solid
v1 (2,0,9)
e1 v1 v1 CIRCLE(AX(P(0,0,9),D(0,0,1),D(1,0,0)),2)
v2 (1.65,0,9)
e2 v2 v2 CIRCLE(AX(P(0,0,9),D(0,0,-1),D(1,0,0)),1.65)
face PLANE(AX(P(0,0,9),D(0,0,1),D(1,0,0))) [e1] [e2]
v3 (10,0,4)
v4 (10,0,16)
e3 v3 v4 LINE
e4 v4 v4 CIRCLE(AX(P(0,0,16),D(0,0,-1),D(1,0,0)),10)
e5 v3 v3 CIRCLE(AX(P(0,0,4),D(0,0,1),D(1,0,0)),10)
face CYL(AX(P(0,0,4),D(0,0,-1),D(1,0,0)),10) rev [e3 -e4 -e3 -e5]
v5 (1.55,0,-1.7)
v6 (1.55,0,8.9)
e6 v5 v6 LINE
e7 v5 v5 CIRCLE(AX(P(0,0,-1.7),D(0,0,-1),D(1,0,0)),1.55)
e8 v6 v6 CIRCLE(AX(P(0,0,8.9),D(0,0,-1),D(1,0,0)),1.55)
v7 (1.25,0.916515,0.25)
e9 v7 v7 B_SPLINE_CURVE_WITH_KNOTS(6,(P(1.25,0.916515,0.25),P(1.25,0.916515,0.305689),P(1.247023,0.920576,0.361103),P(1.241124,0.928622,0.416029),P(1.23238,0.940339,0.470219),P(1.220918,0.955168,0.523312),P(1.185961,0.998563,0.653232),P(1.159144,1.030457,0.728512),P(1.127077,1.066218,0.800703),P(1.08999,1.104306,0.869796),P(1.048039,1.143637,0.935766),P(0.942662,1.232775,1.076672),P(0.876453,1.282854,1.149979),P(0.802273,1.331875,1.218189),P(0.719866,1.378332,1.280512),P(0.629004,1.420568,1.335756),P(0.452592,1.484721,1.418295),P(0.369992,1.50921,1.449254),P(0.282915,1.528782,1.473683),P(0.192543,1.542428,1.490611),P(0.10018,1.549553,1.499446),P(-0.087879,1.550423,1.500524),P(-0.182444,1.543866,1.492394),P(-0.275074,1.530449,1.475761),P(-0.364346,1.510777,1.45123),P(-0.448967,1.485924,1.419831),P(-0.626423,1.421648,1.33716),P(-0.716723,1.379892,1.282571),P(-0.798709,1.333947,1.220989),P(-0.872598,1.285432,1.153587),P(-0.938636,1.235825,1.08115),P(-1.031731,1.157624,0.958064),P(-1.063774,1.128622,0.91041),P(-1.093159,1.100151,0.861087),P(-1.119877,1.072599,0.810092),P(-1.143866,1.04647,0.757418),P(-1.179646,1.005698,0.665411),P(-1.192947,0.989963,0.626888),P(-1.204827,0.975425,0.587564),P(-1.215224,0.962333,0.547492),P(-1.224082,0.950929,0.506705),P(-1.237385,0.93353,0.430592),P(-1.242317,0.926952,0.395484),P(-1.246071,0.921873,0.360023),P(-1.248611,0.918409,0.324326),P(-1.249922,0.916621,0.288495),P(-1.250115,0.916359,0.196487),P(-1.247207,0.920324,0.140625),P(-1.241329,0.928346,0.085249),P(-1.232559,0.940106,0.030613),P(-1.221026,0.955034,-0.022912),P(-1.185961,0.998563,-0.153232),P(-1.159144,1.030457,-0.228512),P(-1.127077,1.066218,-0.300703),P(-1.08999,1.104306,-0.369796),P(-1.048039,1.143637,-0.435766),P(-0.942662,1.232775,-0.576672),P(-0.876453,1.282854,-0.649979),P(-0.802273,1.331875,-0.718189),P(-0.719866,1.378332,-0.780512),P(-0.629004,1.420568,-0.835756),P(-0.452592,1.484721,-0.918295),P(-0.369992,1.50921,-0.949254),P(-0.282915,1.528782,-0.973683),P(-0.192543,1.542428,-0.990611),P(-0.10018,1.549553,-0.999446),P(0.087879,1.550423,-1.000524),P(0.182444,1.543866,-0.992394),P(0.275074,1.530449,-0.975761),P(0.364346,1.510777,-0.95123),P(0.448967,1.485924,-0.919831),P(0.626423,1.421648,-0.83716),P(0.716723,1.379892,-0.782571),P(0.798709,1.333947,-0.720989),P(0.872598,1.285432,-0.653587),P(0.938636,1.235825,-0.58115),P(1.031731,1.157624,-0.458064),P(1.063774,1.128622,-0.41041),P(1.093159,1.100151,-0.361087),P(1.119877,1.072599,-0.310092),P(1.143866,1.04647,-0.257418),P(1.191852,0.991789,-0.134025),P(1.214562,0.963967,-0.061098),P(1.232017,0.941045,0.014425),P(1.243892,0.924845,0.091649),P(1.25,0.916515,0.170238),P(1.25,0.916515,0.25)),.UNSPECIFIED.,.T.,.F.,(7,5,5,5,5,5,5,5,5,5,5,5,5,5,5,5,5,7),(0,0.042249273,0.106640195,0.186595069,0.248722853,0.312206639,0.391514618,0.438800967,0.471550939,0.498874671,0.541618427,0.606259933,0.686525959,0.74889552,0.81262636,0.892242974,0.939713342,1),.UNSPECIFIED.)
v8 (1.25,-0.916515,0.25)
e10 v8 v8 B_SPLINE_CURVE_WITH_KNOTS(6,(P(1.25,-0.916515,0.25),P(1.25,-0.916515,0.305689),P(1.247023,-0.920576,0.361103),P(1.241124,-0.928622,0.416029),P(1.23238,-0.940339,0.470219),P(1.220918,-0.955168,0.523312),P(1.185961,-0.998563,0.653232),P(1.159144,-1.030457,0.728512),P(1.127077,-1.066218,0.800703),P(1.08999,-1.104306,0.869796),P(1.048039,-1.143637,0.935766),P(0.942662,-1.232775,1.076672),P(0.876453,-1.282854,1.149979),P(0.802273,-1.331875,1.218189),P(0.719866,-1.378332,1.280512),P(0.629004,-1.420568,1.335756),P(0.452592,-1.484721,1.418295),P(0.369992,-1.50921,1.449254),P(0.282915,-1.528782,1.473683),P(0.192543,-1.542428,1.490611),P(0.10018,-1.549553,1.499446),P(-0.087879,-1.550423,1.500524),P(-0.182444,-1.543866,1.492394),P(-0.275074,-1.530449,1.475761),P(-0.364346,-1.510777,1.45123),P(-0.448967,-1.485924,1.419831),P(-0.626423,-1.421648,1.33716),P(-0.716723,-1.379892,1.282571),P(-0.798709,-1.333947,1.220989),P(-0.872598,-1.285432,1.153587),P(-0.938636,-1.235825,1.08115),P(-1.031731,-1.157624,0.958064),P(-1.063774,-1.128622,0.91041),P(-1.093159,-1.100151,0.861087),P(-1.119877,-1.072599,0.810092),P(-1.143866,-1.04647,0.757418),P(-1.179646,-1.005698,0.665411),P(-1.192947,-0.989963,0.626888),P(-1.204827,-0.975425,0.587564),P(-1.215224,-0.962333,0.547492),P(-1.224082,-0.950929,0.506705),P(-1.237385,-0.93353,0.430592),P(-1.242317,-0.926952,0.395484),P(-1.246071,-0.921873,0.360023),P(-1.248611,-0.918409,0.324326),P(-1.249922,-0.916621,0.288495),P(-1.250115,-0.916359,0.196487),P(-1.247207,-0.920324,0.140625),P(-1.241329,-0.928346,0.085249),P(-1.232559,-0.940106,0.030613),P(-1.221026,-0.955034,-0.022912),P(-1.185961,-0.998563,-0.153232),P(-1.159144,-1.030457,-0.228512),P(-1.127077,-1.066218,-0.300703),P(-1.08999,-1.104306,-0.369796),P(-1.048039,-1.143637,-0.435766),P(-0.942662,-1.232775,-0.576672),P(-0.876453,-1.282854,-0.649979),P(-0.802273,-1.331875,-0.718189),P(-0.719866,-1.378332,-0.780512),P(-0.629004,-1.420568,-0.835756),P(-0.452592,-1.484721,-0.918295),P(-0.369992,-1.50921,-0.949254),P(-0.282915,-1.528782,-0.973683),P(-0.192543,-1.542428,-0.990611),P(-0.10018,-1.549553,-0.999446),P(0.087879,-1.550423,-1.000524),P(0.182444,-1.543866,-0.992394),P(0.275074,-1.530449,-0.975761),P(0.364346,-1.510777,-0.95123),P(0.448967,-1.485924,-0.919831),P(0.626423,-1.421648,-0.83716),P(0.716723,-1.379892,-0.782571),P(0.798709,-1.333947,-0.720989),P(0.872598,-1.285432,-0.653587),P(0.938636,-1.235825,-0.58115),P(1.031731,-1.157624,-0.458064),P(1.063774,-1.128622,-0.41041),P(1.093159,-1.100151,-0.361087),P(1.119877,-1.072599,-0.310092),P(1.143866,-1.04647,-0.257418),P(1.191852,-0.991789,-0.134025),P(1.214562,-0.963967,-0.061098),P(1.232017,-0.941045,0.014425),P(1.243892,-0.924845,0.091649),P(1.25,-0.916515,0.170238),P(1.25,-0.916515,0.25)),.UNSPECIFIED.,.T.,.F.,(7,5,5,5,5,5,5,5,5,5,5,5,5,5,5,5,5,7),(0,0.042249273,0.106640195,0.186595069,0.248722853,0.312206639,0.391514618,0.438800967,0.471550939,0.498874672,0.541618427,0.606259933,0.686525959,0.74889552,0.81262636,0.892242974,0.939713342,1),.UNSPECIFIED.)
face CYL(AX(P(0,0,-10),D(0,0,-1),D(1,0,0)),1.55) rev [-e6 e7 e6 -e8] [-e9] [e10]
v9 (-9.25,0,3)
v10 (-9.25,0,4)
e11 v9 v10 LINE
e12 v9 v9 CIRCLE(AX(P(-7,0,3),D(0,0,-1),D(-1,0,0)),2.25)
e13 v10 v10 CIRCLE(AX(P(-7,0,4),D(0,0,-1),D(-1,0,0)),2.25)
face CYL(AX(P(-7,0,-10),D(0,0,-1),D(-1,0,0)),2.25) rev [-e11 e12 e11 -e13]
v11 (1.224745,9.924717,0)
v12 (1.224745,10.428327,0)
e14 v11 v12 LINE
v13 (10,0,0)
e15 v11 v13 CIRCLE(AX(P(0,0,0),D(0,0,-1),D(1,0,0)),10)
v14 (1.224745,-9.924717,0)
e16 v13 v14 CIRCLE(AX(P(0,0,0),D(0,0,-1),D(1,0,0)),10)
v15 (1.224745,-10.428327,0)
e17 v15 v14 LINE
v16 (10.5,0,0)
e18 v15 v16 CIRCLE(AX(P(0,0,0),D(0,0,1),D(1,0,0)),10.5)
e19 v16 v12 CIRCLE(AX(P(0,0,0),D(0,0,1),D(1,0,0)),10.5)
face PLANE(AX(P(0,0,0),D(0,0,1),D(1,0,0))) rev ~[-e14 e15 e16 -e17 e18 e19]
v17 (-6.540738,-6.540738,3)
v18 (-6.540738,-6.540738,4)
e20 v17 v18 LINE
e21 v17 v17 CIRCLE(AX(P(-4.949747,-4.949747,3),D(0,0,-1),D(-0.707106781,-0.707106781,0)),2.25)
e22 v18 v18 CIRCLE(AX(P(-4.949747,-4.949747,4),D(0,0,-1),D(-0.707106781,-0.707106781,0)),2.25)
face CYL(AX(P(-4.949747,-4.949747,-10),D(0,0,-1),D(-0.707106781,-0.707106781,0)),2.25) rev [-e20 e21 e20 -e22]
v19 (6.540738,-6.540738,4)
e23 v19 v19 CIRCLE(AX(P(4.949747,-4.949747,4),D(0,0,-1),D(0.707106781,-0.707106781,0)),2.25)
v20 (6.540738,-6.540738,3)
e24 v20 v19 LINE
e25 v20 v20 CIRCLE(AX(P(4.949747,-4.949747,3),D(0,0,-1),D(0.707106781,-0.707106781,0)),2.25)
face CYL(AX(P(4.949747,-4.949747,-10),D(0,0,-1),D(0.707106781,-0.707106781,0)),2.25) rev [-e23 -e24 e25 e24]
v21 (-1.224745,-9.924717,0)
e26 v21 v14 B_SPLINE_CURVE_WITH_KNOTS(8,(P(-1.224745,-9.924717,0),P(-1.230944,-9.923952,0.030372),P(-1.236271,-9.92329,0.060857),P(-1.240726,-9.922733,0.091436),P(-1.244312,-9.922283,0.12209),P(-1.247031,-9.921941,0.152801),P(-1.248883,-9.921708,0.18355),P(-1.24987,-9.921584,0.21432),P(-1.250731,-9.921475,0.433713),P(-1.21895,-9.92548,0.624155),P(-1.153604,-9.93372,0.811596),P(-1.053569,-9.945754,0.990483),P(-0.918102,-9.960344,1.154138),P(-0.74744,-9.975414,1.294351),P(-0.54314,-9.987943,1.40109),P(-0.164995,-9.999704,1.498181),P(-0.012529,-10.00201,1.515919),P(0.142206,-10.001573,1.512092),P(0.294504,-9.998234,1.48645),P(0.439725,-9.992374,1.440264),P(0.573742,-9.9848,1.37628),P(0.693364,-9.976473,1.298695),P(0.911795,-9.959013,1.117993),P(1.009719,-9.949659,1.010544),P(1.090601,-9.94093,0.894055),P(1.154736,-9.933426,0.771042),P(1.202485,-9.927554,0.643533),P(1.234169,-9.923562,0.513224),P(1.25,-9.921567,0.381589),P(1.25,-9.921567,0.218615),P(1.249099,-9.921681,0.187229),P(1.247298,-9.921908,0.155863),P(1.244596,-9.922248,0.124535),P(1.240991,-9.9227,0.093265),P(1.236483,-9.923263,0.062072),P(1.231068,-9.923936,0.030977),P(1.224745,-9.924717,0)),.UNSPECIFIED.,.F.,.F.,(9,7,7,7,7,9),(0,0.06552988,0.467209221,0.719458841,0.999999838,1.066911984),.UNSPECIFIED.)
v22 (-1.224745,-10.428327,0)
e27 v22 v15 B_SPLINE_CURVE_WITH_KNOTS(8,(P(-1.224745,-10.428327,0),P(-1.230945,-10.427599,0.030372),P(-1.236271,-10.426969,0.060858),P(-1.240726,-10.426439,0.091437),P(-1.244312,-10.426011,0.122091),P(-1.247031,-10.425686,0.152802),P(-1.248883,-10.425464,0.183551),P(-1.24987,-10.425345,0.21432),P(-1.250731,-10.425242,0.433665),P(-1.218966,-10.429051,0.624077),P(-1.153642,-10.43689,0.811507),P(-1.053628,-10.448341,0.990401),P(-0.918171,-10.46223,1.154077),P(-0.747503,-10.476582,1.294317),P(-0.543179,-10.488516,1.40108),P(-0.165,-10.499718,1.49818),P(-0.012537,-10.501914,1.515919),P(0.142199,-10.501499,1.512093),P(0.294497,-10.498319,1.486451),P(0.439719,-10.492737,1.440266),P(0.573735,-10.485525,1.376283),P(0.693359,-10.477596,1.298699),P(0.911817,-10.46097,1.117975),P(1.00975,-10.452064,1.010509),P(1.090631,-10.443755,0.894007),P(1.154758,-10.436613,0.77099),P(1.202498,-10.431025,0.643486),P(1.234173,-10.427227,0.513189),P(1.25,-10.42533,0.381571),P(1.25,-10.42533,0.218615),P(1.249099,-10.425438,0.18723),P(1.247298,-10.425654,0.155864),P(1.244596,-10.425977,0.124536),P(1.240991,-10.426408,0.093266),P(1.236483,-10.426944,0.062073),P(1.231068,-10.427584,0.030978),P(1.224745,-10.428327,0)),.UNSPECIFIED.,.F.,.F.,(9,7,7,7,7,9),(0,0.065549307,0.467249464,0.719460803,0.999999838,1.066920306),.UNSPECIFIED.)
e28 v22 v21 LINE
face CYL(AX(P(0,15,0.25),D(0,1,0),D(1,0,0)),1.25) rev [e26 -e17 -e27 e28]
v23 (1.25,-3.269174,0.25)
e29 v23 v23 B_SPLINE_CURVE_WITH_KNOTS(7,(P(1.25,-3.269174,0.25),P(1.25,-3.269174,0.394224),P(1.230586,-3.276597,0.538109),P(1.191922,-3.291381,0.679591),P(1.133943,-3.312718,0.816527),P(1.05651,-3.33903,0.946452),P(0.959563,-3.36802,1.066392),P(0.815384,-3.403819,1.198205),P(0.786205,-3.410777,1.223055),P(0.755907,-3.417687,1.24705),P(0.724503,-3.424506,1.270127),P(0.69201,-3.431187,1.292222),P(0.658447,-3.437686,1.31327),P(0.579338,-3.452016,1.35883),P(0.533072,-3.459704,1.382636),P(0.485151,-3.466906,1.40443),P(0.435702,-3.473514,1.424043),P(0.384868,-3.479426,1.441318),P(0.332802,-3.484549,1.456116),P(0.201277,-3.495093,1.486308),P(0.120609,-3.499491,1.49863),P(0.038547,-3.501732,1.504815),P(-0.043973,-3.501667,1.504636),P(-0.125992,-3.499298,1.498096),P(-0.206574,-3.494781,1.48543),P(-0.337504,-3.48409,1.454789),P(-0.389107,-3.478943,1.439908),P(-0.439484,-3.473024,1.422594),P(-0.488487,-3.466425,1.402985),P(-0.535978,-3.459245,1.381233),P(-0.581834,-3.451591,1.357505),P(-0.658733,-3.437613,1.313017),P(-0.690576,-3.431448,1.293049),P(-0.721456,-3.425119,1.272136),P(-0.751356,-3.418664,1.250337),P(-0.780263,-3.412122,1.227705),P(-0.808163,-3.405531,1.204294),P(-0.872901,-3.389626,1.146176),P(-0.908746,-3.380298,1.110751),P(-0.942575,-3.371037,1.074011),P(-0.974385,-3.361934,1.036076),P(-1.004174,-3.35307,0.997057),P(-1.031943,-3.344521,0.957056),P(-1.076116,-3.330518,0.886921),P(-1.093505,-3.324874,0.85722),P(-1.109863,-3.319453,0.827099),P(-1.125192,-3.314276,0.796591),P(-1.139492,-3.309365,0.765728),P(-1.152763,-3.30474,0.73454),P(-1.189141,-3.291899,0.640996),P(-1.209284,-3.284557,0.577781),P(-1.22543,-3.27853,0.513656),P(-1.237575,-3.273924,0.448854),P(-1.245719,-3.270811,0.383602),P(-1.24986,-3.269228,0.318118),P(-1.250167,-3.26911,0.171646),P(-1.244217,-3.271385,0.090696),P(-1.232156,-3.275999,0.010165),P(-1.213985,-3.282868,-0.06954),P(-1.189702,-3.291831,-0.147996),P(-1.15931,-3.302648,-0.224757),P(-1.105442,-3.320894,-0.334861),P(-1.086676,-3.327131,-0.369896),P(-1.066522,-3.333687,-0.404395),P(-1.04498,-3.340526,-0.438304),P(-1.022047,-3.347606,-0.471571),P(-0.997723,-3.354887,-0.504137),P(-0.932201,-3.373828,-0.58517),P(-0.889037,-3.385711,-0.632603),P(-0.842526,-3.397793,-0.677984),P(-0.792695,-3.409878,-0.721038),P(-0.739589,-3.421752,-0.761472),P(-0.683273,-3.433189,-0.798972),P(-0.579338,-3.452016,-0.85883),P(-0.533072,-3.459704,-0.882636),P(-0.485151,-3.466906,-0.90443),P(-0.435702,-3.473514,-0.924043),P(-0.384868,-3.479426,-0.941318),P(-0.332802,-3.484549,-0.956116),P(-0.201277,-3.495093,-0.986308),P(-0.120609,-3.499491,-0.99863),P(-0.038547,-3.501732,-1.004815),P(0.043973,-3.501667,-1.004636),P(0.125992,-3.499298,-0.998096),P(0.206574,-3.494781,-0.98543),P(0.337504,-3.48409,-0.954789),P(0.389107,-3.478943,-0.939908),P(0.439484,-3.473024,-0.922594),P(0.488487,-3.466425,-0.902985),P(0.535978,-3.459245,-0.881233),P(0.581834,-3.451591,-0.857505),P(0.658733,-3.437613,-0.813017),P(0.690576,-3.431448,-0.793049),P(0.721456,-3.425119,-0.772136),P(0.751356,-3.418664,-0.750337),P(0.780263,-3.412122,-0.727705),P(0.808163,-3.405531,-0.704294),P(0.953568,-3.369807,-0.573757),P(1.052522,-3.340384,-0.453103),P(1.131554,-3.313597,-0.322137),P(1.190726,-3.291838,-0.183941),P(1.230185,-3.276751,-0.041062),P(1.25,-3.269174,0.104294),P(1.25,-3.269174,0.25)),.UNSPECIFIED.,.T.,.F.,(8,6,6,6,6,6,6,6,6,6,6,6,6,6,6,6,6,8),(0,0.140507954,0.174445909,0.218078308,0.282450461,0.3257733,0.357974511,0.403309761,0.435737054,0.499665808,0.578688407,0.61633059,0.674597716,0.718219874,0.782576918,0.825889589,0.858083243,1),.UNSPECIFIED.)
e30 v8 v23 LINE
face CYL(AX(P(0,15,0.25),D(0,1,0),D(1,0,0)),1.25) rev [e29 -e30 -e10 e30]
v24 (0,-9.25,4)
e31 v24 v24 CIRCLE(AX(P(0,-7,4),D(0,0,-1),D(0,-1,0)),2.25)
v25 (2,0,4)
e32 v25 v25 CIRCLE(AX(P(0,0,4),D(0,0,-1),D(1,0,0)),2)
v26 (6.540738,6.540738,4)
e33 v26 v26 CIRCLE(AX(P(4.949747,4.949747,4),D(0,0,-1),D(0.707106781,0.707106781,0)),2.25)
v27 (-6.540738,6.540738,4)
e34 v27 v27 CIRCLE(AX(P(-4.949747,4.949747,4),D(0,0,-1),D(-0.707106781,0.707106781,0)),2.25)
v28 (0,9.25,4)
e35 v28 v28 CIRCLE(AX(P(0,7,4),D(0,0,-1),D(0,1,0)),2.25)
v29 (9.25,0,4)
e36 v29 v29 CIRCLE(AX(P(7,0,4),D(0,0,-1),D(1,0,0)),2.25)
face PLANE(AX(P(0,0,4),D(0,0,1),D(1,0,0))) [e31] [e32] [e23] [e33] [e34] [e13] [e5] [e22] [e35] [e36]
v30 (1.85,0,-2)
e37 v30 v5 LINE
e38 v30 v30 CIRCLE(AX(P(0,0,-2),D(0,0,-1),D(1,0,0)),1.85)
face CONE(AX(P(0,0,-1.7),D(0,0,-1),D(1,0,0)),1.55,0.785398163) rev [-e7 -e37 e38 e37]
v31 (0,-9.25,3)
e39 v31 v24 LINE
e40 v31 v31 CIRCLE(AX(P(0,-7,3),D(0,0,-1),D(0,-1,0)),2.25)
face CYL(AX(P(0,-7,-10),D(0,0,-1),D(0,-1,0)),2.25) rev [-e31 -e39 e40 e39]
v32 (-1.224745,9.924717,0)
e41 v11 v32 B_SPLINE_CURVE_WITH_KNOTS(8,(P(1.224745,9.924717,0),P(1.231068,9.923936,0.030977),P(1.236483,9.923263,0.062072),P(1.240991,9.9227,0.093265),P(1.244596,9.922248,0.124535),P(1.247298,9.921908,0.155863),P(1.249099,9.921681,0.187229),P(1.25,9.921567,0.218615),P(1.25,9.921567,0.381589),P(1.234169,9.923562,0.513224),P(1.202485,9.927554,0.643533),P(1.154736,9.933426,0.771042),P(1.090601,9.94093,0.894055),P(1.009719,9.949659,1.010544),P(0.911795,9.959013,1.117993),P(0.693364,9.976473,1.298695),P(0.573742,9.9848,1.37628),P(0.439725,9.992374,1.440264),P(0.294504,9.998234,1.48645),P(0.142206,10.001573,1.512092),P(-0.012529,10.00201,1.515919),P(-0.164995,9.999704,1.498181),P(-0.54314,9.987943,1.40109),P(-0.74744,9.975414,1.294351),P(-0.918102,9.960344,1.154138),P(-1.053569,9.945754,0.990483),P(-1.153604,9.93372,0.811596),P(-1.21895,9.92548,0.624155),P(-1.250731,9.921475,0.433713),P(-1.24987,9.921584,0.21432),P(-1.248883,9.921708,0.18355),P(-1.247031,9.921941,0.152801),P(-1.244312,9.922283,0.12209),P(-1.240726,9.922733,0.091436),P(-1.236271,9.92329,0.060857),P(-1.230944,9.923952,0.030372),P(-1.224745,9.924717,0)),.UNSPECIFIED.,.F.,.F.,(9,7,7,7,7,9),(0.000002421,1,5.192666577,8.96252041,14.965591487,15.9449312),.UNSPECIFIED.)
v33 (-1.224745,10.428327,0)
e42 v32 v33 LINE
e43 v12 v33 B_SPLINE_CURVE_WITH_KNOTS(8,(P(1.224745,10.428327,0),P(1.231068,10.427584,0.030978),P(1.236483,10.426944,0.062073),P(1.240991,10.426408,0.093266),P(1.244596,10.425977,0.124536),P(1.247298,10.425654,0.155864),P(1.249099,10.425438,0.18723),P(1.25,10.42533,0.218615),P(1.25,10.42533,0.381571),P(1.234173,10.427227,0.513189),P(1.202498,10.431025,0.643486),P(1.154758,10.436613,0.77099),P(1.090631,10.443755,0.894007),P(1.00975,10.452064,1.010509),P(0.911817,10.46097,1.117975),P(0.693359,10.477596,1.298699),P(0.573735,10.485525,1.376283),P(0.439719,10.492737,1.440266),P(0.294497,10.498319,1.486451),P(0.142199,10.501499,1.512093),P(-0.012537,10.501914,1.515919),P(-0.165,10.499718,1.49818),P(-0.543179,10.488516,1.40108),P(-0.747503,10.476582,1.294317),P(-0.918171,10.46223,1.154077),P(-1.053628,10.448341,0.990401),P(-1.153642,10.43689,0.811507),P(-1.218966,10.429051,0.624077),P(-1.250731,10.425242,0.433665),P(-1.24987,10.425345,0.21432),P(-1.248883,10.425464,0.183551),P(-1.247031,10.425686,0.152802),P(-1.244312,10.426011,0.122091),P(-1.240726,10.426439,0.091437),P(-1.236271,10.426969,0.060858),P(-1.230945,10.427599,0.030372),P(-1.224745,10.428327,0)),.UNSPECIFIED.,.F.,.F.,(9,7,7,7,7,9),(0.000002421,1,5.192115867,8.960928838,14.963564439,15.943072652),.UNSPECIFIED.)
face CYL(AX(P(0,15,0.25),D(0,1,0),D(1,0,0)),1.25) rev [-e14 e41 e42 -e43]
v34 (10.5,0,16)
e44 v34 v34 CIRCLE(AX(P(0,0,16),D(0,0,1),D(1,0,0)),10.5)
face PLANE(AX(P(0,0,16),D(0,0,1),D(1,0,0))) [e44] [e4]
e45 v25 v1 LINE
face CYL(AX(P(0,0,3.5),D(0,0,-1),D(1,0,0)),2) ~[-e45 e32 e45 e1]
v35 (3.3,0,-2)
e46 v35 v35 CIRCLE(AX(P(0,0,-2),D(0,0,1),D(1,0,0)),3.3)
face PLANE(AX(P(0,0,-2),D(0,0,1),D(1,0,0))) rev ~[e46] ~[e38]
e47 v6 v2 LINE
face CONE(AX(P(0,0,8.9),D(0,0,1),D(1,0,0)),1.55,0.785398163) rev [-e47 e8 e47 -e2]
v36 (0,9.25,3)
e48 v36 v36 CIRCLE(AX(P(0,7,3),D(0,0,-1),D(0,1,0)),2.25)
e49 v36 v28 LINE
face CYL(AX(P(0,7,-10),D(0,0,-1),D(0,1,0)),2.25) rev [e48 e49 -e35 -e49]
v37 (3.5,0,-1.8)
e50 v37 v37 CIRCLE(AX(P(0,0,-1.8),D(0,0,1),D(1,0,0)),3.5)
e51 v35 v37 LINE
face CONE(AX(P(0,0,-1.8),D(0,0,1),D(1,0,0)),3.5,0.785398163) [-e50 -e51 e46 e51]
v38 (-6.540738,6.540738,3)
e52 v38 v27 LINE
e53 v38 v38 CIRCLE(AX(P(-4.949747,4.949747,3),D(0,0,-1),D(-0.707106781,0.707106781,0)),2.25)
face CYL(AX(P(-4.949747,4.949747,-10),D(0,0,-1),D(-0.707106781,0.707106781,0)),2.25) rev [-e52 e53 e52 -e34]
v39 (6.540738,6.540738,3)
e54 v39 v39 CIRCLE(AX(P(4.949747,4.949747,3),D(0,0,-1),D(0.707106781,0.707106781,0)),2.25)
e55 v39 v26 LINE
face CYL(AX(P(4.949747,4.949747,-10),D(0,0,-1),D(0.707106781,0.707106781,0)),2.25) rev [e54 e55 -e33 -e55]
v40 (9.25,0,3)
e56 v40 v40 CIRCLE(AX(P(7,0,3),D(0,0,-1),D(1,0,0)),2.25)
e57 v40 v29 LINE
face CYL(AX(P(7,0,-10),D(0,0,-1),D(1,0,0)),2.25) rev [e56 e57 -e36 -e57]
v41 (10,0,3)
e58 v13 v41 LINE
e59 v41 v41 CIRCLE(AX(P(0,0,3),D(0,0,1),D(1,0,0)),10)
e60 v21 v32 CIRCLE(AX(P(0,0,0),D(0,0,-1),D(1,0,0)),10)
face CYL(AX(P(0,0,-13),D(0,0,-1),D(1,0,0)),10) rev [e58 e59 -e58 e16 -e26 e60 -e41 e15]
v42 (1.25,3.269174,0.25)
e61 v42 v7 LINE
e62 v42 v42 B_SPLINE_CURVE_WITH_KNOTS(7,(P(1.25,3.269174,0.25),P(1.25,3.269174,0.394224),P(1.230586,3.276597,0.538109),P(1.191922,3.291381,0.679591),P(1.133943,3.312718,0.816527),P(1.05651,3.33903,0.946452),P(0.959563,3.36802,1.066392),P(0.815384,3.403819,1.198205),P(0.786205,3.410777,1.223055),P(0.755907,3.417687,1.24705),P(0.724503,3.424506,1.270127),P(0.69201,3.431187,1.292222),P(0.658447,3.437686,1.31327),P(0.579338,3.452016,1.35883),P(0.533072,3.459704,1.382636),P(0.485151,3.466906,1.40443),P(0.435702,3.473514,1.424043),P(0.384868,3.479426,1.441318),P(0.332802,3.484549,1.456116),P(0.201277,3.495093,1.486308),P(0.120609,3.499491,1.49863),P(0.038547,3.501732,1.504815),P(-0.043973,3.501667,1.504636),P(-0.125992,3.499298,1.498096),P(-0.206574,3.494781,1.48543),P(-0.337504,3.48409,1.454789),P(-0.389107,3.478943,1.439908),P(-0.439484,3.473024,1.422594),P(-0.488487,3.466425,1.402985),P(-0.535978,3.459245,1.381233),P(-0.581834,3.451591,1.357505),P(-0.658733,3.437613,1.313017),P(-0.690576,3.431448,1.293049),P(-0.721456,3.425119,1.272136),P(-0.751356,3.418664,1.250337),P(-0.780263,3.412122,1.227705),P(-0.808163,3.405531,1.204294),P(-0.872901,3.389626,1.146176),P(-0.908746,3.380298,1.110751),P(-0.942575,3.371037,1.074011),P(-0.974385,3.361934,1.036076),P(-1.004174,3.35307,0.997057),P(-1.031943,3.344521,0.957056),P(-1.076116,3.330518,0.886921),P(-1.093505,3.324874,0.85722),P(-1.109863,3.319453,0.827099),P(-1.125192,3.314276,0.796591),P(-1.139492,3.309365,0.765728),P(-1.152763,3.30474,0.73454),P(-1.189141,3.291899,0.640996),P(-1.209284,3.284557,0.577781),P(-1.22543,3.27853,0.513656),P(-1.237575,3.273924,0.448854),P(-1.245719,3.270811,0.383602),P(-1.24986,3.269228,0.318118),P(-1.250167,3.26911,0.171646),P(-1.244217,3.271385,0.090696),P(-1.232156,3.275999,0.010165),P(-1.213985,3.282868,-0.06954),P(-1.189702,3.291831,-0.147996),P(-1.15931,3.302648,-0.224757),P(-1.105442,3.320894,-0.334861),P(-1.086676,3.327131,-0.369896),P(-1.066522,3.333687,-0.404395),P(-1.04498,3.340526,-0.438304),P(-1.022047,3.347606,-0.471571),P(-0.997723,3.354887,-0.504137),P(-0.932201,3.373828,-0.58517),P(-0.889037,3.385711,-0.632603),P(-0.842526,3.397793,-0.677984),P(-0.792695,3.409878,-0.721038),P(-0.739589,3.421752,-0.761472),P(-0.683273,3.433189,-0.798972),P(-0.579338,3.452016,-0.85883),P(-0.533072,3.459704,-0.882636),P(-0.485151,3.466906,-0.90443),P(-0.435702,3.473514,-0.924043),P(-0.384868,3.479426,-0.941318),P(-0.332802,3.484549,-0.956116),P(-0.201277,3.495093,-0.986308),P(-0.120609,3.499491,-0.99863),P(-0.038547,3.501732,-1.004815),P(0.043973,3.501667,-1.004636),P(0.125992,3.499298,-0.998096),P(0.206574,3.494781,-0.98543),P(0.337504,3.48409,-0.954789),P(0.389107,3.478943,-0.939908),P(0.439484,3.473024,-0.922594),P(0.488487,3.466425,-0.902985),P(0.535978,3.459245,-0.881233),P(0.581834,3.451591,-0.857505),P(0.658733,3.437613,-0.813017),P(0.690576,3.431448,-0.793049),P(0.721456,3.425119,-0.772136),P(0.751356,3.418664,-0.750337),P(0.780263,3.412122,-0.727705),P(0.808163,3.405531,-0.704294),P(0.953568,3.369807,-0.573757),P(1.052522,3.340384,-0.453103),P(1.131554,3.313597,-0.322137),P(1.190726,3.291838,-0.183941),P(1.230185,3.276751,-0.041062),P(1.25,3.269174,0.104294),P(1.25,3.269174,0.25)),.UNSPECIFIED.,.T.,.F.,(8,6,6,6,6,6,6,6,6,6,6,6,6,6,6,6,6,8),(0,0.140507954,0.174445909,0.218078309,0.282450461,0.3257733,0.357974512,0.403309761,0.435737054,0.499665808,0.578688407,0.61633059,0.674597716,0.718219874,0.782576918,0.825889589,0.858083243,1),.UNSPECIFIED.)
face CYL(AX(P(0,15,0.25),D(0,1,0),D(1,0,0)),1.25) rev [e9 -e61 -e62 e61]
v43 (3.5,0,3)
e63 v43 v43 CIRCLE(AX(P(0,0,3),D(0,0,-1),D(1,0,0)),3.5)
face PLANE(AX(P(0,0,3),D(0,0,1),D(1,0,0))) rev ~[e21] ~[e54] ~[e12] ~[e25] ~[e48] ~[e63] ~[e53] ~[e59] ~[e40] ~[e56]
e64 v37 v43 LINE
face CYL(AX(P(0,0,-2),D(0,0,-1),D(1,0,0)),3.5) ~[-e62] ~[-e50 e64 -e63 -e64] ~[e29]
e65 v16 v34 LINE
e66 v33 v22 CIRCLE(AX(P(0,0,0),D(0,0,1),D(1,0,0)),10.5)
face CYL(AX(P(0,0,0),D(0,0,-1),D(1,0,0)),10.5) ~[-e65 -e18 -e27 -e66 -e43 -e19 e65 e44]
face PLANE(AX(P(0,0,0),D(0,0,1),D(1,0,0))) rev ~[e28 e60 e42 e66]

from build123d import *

# Parameters (mm, degrees)
CYLINDER039_R          = 2.25
CYLINDER039_DEPTH      = 30
ARRAY002_COUNT         = 8
CYLINDER038_R          = 1.55
CYLINDER038_DEPTH      = 30
CYLINDER045_R          = 1.25
CYLINDER045_DEPTH      = 32
CYLINDER045_ROLL_ANGLE = 90
CYLINDER043_R          = 3.5
CYLINDER043_DEPTH      = 5.5
CYLINDER042_R          = 10
CYLINDER042_DEPTH      = 16
CYLINDER037_R          = 10
CYLINDER037_DEPTH      = 16
CYLINDER036_R          = 10.5
CYLINDER036_DEPTH      = 16
CYLINDER044_R          = 2
CYLINDER044_DEPTH      = 5.5
CHAMFER062_1_SIZE      = 0.3
CHAMFER062_2_SIZE      = 0.2
CHAMFER062_3_SIZE      = 0.1


with BuildPart() as array002:
    # Cylinder039 → Cylinder039 (new body)
    with BuildSketch(Plane(origin=(7, 0, -10), x_dir=(1, 0, 0), z_dir=(0, 0, 1))):
        Circle(CYLINDER039_R)
    extrude(amount=CYLINDER039_DEPTH)

    # Array002: Array002 ×8 about axis
    array002_axis = Axis((0, 0, 0), (0, 0, 1))


with BuildPart() as array002_1:
    add(array002.part)
    for i in range(1, ARRAY002_COUNT):
        add(array002.part.rotate(array002_axis, i * 360 / ARRAY002_COUNT))


with BuildPart() as fusion033:
    # Cylinder038 → Cylinder038 (new body)
    with BuildSketch(Plane.XY.offset(-10)):
        Circle(CYLINDER038_R)
    extrude(amount=CYLINDER038_DEPTH)

    # Fusion033: union Array002
    add(array002_1.part)


with BuildPart() as cylinder045:
    # Cylinder045 → Cylinder045 (new body)
    with BuildSketch(Plane.XY):
        Circle(CYLINDER045_R)
    extrude(amount=CYLINDER045_DEPTH)


with BuildPart() as cylinder045_1:
    # Cylinder045 roll: moved
    add(cylinder045.part.rotate(Axis((0, 0, 0), (1, 0, 0)), CYLINDER045_ROLL_ANGLE))


with BuildPart() as cylinder045_2:
    # Cylinder045 placement: moved
    add(cylinder045_1.part.moved(Location((0, 15, 0.25))))


with BuildPart() as cylinder043:
    # Cylinder043 → Cylinder043 (new body)
    with BuildSketch(Plane.XY.offset(-2)):
        Circle(CYLINDER043_R)
    extrude(amount=CYLINDER043_DEPTH)


with BuildPart() as cylinder042:
    # Cylinder042 → Cylinder042 (new body)
    with BuildSketch(Plane.XY.offset(-13)):
        Circle(CYLINDER042_R)
    extrude(amount=CYLINDER042_DEPTH)


with BuildPart() as fusion034:
    # Cylinder037 → Cylinder037 (new body)
    with BuildSketch(Plane.XY.offset(4)):
        Circle(CYLINDER037_R)
    extrude(amount=CYLINDER037_DEPTH)

    # Fusion034: union Cylinder042
    add(cylinder042.part)


with BuildPart() as cut028:
    # Cylinder036 → Cylinder036 (new body)
    with BuildSketch(Plane.XY):
        Circle(CYLINDER036_R)
    extrude(amount=CYLINDER036_DEPTH)

    # Cut028: cut Fusion034
    add(fusion034.part, mode=Mode.SUBTRACT)


with BuildPart() as chamfer062:
    # Cylinder044 → Cylinder044 (new body)
    with BuildSketch(Plane.XY.offset(3.5)):
        Circle(CYLINDER044_R)
    extrude(amount=CYLINDER044_DEPTH)

    # Fusion035: union Cylinder043, Cut028
    add(cylinder043.part)
    add(cut028.part)

    # Cut002: cut Cylinder045
    add(cylinder045_2.part, mode=Mode.SUBTRACT)

    # Cut029: cut Fusion033
    add(fusion033.part, mode=Mode.SUBTRACT)

    # Chamfer062 1
    chamfer062_1_edges = [chamfer062.edges().sort_by_distance(p)[0] for p in [
        (-1.55, 0, -2),
    ]]
    chamfer(chamfer062_1_edges, length=CHAMFER062_1_SIZE)

    # Chamfer062 2
    chamfer062_2_edges = [chamfer062.edges().sort_by_distance(p)[0] for p in [
        (-3.5, 0, -2),
    ]]
    chamfer(chamfer062_2_edges, length=CHAMFER062_2_SIZE)

    # Chamfer062 3
    chamfer062_3_edges = [chamfer062.edges().sort_by_distance(p)[0] for p in [
        (-1.55, 0, 9),
    ]]
    chamfer(chamfer062_3_edges, length=CHAMFER062_3_SIZE)


solid = chamfer062.part
